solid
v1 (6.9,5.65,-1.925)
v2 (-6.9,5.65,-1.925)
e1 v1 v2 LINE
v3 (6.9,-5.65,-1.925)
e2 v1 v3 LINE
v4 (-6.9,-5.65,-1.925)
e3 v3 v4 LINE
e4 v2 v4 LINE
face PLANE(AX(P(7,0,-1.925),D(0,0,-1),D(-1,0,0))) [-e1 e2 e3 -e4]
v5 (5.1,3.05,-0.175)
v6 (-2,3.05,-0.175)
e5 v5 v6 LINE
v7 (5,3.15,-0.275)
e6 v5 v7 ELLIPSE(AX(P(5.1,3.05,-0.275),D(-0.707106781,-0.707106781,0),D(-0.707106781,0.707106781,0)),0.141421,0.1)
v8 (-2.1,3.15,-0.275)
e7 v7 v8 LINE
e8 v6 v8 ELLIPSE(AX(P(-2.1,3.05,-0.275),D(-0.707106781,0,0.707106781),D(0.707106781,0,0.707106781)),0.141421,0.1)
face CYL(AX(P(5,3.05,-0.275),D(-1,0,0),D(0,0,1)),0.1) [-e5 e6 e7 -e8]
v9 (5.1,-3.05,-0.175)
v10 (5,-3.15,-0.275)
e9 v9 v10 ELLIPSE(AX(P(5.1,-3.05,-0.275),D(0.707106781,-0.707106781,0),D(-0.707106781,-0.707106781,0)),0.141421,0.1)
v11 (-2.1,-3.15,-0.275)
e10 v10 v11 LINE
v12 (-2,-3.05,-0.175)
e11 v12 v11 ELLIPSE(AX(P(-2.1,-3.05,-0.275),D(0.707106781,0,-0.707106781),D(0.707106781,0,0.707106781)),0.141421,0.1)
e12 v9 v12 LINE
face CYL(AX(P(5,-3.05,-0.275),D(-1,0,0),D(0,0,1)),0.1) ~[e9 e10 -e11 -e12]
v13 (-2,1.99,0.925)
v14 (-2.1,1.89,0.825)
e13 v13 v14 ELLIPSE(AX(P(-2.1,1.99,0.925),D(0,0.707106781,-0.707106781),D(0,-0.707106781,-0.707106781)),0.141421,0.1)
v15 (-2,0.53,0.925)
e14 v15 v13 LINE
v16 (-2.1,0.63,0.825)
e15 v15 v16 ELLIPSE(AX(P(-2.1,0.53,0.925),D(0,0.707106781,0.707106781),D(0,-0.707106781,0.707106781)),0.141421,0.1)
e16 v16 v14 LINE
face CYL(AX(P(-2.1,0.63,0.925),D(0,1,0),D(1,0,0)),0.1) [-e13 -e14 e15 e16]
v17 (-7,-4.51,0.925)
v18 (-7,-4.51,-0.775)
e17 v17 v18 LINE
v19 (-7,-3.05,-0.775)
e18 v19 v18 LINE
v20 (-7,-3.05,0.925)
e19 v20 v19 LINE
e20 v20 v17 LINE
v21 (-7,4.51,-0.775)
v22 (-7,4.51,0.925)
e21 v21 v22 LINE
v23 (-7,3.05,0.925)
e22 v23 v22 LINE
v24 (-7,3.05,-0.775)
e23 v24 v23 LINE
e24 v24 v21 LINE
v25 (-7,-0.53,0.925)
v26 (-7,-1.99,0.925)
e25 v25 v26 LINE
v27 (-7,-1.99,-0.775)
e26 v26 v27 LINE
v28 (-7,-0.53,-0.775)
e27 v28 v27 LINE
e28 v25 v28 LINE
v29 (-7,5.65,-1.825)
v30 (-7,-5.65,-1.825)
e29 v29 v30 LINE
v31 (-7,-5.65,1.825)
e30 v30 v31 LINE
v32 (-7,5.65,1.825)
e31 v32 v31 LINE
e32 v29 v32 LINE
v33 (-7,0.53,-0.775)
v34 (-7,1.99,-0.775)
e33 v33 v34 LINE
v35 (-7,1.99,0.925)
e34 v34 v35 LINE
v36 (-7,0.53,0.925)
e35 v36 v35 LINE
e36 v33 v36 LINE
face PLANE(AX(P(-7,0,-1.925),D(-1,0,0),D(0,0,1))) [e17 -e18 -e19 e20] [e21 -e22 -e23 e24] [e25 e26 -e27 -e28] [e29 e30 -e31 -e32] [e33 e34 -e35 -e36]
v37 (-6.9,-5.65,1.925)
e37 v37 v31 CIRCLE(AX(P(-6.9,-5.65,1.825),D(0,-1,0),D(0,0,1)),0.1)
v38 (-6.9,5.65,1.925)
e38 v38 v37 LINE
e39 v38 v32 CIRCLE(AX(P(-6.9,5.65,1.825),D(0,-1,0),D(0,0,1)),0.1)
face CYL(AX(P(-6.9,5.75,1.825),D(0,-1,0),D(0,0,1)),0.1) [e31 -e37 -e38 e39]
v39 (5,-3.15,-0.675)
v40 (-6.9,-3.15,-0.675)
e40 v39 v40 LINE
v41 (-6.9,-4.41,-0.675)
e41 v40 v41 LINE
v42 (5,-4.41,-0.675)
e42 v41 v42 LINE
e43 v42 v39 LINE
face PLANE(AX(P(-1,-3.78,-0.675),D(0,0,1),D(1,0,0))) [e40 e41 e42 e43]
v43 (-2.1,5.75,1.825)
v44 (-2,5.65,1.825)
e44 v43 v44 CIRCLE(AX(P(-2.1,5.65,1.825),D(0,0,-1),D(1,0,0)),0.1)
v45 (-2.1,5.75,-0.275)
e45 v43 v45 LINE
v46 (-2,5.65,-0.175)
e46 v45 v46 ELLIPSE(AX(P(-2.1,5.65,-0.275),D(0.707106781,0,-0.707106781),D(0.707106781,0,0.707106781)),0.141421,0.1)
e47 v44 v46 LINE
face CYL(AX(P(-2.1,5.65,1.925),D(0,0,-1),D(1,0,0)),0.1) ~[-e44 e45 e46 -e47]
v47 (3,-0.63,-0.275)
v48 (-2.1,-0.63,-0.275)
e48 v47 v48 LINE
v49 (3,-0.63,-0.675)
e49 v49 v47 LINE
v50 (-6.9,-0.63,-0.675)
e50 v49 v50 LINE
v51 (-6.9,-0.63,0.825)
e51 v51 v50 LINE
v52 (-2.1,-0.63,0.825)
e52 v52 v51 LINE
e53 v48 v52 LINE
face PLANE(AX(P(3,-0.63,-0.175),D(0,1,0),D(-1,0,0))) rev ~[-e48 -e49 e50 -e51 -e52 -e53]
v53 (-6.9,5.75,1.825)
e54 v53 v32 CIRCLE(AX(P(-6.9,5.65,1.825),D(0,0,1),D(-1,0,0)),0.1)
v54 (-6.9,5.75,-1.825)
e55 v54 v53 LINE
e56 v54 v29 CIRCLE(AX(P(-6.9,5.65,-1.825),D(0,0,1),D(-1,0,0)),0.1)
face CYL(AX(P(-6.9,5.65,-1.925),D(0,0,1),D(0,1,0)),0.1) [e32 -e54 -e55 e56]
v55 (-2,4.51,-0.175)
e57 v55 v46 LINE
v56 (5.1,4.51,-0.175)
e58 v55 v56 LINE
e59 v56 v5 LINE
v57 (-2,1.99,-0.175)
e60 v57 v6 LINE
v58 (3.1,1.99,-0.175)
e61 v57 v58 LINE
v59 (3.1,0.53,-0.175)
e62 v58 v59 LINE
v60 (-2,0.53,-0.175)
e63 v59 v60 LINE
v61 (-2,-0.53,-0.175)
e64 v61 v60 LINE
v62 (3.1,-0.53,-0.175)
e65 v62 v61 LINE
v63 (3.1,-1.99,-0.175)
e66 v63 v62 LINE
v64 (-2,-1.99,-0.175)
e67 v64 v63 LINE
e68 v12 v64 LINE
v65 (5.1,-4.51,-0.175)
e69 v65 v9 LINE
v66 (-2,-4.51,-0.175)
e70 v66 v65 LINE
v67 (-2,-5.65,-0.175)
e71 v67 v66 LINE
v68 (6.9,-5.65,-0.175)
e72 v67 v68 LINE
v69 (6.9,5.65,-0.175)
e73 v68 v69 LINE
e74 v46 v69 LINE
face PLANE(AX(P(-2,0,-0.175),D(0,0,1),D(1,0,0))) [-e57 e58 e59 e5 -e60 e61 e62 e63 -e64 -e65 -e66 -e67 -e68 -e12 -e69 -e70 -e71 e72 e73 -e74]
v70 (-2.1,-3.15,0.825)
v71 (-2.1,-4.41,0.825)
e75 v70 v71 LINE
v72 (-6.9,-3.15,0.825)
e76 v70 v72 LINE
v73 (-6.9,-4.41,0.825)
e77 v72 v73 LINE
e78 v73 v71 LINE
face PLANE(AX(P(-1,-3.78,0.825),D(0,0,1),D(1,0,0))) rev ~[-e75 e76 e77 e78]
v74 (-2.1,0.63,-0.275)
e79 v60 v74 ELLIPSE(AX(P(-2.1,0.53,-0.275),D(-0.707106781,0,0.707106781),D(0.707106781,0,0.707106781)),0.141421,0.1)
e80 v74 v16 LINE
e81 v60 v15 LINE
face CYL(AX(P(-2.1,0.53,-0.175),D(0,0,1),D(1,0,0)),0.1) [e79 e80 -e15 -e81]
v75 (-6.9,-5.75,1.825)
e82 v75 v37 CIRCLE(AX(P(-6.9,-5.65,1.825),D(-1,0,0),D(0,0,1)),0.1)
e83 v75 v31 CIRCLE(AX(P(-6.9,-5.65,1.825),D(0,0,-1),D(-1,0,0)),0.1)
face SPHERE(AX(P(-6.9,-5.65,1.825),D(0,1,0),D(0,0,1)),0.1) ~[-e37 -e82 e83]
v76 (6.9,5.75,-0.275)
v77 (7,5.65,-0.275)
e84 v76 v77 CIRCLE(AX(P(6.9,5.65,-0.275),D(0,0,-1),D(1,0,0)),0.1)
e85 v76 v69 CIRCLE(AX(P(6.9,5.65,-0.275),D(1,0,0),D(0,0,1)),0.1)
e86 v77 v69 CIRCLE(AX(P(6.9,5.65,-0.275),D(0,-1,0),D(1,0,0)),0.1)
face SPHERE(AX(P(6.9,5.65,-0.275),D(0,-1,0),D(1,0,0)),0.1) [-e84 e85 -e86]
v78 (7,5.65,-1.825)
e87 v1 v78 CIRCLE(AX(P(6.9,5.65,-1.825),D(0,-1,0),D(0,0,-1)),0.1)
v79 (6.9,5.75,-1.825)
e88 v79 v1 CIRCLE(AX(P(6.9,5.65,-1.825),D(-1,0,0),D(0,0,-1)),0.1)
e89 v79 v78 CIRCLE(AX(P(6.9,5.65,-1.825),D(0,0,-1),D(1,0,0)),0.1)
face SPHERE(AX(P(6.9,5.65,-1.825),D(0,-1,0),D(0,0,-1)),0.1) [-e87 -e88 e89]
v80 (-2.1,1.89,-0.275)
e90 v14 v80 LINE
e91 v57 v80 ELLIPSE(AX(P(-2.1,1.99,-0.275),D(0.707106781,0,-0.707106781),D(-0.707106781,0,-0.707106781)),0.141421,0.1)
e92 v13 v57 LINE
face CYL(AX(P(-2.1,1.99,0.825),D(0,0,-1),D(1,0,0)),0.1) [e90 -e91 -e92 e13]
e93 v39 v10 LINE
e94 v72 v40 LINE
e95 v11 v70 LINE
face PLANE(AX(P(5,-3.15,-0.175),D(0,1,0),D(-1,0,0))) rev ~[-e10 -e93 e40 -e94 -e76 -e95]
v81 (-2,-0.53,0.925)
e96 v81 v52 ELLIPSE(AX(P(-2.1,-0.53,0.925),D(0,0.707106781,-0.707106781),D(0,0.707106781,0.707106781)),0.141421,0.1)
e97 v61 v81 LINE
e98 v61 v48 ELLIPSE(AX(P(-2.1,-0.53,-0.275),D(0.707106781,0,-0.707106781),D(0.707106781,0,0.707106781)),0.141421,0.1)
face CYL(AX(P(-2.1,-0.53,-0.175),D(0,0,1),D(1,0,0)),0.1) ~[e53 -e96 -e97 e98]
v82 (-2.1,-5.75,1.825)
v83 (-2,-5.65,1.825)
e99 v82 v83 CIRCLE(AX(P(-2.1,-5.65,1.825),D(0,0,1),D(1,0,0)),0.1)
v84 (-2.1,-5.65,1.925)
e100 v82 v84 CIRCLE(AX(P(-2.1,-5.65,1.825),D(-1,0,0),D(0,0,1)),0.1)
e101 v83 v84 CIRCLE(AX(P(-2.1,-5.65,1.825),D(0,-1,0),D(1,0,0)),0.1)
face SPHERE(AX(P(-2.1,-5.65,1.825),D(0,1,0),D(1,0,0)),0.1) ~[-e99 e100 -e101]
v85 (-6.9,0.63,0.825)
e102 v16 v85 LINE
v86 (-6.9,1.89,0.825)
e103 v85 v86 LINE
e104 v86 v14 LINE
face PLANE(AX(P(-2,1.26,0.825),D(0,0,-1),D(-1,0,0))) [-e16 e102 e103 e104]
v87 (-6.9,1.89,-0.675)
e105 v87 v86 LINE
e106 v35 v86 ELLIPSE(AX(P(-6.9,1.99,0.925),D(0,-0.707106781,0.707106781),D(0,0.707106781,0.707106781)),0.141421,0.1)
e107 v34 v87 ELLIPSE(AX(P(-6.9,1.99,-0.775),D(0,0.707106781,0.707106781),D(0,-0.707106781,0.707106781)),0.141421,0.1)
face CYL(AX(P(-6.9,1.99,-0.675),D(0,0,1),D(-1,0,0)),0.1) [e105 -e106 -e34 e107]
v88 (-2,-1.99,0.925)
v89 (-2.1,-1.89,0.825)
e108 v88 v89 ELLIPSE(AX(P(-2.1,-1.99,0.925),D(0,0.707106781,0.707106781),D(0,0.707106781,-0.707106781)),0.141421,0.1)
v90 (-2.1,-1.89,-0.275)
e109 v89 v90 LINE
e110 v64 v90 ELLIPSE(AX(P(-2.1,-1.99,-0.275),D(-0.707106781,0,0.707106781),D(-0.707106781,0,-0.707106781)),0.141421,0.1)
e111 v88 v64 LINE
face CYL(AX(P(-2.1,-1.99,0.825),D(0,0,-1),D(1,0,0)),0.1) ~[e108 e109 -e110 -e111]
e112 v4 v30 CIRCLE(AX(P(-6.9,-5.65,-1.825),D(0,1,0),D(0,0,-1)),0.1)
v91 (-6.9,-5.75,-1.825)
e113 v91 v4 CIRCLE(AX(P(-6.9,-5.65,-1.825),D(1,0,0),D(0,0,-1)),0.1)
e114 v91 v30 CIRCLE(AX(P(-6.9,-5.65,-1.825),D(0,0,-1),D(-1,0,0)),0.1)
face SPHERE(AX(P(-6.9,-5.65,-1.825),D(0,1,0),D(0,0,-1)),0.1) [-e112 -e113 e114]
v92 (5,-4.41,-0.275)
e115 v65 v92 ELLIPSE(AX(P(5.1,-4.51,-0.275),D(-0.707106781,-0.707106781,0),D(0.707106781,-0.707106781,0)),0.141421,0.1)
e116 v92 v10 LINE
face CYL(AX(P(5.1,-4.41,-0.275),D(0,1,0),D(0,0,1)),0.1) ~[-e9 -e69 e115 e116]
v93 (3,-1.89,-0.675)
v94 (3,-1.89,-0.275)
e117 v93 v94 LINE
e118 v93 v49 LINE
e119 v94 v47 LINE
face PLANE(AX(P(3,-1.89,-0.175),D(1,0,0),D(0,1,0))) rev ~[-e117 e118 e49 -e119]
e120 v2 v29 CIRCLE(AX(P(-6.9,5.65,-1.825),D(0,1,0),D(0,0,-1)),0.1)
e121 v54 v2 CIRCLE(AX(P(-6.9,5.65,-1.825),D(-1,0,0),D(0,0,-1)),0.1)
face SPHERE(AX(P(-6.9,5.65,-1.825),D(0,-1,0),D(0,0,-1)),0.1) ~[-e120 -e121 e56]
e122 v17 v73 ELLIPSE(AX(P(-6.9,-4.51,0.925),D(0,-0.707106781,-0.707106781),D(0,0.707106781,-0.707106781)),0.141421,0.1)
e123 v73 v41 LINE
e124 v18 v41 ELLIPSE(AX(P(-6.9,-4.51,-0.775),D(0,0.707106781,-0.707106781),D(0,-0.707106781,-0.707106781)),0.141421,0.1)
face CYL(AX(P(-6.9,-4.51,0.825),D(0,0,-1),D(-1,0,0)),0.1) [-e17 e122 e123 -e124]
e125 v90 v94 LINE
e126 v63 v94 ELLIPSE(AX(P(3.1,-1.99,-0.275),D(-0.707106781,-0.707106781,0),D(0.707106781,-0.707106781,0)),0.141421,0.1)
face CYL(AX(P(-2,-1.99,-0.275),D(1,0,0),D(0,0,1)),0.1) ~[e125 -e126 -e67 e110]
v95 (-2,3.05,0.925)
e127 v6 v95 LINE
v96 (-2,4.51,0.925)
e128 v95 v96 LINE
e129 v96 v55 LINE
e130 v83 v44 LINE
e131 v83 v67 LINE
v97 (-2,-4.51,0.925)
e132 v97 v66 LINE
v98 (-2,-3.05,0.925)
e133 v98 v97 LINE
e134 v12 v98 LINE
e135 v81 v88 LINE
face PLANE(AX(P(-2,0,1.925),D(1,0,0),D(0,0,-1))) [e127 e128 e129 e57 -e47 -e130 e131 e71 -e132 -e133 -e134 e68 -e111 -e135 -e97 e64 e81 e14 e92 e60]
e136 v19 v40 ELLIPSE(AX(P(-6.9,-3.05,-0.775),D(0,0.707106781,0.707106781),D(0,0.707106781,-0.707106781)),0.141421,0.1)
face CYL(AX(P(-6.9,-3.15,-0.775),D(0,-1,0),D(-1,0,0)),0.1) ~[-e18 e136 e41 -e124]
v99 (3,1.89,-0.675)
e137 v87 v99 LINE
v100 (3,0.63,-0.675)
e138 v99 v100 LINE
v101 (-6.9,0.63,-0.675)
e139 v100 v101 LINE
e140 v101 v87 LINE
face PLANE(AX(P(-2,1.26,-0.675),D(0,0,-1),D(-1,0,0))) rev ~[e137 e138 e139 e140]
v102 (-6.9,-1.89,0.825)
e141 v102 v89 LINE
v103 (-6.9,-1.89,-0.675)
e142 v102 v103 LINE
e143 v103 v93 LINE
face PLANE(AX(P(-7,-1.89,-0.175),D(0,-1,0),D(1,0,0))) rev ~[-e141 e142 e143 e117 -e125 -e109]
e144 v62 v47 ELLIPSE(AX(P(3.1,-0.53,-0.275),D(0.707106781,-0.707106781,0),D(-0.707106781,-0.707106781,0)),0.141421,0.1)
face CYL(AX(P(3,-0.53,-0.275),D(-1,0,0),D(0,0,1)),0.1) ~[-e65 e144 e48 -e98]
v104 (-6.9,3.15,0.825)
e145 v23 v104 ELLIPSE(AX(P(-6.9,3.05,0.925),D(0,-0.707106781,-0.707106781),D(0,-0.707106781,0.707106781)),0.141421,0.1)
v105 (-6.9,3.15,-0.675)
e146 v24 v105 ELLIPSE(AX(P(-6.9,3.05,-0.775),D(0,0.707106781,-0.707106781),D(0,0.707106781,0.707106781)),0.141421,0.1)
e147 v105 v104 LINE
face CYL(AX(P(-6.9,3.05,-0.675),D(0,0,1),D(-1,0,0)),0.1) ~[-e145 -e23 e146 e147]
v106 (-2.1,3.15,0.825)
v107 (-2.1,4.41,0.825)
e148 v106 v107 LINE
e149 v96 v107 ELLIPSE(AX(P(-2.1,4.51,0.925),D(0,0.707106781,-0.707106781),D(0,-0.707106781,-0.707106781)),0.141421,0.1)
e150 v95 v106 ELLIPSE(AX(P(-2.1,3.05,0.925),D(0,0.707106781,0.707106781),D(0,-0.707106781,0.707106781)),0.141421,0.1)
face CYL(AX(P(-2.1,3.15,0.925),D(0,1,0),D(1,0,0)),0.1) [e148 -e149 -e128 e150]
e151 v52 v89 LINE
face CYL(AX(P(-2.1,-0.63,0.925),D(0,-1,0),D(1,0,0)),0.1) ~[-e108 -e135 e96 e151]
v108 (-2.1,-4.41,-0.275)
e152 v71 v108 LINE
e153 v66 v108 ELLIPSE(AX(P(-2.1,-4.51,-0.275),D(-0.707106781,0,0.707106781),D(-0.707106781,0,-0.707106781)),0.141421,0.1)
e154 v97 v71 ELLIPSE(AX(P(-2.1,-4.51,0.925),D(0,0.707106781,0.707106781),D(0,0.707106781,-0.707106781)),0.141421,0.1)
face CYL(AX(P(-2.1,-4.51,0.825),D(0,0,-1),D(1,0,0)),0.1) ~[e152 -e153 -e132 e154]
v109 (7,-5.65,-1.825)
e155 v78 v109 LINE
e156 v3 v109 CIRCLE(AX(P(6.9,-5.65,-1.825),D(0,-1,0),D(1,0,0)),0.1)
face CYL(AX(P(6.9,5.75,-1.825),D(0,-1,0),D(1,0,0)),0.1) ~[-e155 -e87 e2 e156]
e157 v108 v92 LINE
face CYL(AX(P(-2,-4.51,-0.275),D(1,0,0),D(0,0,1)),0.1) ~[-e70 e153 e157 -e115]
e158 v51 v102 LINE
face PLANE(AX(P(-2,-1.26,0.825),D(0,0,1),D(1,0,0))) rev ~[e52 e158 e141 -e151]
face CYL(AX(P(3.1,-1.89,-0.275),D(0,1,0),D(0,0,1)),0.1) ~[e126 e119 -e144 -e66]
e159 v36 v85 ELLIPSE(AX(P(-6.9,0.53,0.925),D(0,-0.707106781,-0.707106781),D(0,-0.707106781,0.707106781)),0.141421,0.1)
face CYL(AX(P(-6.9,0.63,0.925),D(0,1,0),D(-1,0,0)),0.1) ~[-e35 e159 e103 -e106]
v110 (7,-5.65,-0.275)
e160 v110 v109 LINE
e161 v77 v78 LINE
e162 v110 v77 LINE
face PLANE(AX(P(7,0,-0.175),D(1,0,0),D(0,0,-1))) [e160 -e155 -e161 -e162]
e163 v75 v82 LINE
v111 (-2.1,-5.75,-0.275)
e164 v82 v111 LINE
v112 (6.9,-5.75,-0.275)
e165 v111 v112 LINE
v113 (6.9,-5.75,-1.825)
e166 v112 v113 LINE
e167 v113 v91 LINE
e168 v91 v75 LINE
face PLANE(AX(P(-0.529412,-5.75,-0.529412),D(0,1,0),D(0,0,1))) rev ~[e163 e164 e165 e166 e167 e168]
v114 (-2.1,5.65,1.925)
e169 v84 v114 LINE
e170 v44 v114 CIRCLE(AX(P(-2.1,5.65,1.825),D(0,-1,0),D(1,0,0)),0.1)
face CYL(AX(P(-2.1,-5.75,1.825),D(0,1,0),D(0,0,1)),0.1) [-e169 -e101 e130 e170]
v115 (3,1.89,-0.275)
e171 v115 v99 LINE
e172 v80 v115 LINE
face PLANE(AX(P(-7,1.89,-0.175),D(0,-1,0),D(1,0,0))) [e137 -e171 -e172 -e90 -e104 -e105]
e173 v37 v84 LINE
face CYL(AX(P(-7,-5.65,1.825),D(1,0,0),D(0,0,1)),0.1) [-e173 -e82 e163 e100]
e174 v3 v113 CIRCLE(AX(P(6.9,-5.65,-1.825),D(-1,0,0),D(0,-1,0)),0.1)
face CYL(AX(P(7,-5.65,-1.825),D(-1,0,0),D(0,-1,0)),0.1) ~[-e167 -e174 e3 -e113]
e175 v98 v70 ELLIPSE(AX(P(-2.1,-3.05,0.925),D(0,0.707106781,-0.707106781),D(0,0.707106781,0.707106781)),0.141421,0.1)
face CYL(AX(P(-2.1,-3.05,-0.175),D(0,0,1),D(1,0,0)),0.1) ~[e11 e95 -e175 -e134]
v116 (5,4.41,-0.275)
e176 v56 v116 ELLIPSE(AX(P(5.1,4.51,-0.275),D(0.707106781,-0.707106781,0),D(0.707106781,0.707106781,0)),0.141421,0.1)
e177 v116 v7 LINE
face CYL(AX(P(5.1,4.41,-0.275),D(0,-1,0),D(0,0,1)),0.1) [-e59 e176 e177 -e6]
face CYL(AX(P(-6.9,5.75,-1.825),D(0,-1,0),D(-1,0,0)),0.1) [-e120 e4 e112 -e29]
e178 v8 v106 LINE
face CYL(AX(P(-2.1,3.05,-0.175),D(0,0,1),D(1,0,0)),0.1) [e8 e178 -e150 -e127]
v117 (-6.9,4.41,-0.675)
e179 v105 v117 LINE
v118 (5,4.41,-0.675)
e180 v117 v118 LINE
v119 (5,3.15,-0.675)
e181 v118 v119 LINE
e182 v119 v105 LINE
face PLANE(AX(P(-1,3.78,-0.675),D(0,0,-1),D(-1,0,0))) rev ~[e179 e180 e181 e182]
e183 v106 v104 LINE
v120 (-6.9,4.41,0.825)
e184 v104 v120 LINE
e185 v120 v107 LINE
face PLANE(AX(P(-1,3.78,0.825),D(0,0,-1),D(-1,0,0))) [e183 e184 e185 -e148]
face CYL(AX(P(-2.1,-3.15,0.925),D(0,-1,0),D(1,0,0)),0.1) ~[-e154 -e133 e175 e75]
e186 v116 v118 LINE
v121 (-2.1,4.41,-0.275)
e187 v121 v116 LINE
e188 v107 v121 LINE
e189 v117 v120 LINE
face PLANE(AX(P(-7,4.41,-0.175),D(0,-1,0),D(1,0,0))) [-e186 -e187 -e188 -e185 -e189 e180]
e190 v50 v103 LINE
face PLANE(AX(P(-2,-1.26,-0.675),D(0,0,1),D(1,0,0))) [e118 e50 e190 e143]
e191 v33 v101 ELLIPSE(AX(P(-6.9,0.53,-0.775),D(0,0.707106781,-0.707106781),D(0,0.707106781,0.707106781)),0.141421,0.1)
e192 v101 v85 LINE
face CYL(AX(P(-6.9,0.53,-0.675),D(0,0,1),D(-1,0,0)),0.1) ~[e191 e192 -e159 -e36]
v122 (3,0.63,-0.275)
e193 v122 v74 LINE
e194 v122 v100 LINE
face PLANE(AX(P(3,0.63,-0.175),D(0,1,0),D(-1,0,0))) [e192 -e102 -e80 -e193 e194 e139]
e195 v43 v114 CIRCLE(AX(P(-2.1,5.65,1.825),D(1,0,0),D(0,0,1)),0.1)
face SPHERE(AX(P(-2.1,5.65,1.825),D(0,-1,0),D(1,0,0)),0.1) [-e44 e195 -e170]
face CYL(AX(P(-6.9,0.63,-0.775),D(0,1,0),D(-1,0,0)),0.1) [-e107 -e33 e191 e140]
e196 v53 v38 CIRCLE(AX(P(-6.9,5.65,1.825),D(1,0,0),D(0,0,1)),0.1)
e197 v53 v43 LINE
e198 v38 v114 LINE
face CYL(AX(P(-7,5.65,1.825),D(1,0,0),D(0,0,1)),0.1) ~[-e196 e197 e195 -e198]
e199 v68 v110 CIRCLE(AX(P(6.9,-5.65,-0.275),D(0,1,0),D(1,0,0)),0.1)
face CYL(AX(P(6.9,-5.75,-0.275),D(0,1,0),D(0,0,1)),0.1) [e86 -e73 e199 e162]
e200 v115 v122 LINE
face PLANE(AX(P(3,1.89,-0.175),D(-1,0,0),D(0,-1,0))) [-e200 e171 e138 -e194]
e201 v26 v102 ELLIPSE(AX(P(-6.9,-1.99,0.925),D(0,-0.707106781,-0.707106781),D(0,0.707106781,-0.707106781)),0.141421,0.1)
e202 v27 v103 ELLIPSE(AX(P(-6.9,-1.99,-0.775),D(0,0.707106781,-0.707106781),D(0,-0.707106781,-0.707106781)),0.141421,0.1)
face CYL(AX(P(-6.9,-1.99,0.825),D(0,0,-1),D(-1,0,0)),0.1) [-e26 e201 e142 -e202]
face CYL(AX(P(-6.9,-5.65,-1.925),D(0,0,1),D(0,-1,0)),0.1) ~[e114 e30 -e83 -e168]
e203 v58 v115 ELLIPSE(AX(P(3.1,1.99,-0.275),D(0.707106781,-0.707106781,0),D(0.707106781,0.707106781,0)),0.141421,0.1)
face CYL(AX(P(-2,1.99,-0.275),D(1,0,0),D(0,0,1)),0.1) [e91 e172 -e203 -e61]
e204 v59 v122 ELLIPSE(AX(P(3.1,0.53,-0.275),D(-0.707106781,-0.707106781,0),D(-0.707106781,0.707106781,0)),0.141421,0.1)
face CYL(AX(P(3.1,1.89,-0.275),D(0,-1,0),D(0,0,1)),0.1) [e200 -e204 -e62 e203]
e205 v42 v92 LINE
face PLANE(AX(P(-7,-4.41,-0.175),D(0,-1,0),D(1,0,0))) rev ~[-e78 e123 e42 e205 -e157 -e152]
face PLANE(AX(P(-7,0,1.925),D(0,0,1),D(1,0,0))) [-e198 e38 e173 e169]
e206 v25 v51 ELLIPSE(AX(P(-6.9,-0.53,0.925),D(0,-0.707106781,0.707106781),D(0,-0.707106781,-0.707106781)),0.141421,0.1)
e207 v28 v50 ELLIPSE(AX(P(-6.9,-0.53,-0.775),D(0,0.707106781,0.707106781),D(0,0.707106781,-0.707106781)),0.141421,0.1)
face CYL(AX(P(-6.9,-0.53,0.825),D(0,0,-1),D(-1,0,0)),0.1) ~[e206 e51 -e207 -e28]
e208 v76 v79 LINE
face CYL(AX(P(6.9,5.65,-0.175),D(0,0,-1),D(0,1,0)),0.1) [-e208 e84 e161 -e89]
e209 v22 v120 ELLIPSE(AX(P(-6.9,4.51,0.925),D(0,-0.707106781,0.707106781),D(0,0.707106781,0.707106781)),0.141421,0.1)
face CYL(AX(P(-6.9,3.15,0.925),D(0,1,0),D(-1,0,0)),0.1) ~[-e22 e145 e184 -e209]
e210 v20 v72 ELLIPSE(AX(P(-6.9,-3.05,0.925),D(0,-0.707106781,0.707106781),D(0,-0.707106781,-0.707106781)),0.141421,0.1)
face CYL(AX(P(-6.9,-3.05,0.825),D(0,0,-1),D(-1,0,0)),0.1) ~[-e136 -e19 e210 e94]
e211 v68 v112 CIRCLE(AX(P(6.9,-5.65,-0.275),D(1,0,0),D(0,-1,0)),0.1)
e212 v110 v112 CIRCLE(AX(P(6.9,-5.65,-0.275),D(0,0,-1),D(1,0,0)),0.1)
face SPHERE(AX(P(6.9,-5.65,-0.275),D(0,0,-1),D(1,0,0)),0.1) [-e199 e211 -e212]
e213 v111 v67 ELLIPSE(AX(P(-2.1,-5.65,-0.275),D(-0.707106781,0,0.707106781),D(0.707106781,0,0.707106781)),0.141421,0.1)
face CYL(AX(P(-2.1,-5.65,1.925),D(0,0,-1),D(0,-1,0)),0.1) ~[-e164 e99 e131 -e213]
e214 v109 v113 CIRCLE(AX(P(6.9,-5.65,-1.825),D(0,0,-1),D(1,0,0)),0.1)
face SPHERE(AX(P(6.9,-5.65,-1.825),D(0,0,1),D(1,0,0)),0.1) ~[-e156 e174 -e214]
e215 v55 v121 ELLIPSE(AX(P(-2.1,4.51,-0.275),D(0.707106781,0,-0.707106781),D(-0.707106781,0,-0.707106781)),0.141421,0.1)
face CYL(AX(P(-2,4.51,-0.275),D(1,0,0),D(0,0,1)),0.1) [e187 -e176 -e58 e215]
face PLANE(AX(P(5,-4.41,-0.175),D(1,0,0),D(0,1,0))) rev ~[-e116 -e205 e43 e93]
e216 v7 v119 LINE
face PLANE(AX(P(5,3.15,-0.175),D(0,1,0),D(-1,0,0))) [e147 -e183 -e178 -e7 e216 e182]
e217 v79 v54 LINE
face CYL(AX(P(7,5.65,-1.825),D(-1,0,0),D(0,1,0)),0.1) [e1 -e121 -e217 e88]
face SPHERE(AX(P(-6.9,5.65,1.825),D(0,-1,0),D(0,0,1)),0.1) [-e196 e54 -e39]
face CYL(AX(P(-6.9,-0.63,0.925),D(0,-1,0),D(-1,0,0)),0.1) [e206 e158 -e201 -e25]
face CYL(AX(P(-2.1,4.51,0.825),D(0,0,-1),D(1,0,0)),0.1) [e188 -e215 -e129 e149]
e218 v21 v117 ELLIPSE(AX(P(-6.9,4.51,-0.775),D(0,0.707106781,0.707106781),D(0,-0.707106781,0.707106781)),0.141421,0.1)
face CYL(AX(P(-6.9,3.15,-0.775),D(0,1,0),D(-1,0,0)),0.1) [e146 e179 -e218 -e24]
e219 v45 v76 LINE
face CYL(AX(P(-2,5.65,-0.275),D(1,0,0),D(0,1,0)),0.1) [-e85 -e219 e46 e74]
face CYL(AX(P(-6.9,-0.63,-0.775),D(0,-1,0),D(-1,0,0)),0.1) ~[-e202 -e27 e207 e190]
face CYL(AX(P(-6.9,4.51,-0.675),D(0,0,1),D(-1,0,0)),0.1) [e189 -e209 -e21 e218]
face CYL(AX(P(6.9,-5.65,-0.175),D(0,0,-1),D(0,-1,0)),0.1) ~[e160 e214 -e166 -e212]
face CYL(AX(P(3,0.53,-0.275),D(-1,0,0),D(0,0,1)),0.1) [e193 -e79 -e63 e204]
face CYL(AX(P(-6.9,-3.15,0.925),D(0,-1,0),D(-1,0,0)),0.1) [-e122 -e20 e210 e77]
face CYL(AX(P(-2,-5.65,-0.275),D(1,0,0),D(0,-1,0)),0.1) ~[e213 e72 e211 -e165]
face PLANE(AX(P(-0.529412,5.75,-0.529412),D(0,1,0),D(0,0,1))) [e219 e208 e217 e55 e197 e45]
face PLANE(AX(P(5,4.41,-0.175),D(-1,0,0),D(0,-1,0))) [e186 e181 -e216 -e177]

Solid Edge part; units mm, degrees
sketch "Sketch1" plane through (0, 0, 0) normal (0, -1, 0) x (1, 0, 0)
  line L0 (-7, 1.925) -> (-2, 1.925)
  line L1 (-2, 1.925) -> (-2, -0.175)
  line L2 (-2, -0.175) -> (7, -0.175)
  line L3 (7, -0.175) -> (7, -1.925)
  line L4 (7, -1.925) -> (-7, -1.925)
  line L5 (-7, -1.925) -> (-7, 1.925)
  dimension "D1" = 9
  dimension "D2" = 5
  dimension "D3" = 3.85
  dimension "D4" = 1.75
extrude "Protrusion1" add sketch "Sketch1" along normal mid plane 11.5
sketch "Sketch2" plane through (2.5, 0, -0.175) normal (0, 0, 1) x (1, 0, 0)
  line L0 (-9.5, 4.41) -> (2.5, 4.41)
  line L1 (2.5, 4.41) -> (2.5, 3.15)
  line L2 (2.5, 3.15) -> (-9.5, 3.15)
  line L3 (-9.5, 3.15) -> (-9.5, 4.41)
  line L4 (-9.5, 1.89) -> (0.5, 1.89)
  line L5 (0.5, 1.89) -> (0.5, 0.63)
  line L6 (0.5, 0.63) -> (-9.5, 0.63)
  line L7 (-9.5, 0.63) -> (-9.5, 1.89)
  line L8 (-9.5, -4.41) -> (2.5, -4.41)
  line L9 (2.5, -4.41) -> (2.5, -3.15)
  line L10 (2.5, -3.15) -> (-9.5, -3.15)
  line L11 (-9.5, -3.15) -> (-9.5, -4.41)
  line L12 (-9.5, -1.89) -> (0.5, -1.89)
  line L13 (0.5, -1.89) -> (0.5, -0.63)
  line L14 (0.5, -0.63) -> (-9.5, -0.63)
  line L15 (-9.5, -0.63) -> (-9.5, -1.89)
  dimension "D1" = 2
  dimension "D2" = 4
  dimension "D3" = 1.26
  dimension "D4" = 1.26
  dimension "D5" = 0.63
  dimension "D6" = 1.26
extrude "ExtrudedCutout_1" cut sketch "Sketch2" against normal blind 0.5 and the other way blind 1
fillet "Round_2" radius 0.1 58 edges at (7, -5.75, -1.05) (-2, -1.89, 0.325) (-2, -0.63, 0.325) (-2, -1.26, 0.825) (0.5, -1.89, -0.175) (-2, -4.41, 0.325) (-2, -3.15, 0.325) (-2, -3.78, 0.825) (1.5, -4.41, -0.175) (-2, 1.89, 0.325) (-2, 0.63, 0.325) (-2, 1.26, 0.825) (0.5, 1.89, -0.175) (-2, 4.41, 0.325) (-2, 3.15, 0.325) (-2, 3.78, 0.825) (1.5, 4.41, -0.175) (-7, 0, 1.925) (-2, 0, 1.925) (7, 0, -0.175) (7, 0, -1.925) (-7, 0, -1.925) (0, -5.75, -1.925) (7, -5.75, -1.05) (2.5, -5.75, -0.175) (-2, -5.75, 0.875) (-4.5, -5.75, 1.925) (-7, -5.75, 0) (0, 5.75, -1.925) (7, 5.75, -1.05) (2.5, 5.75, -0.175) (-2, 5.75, 0.875) (-4.5, 5.75, 1.925) (-7, 5.75, 0) (-7, 4.41, 0.075) (-7, 3.15, 0.075) (-7, 3.78, -0.675) (1.5, 3.15, -0.175) (5, 3.78, -0.175) (-7, 3.78, 0.825) (-7, 1.89, 0.075) (-7, 0.63, 0.075) (-7, 1.26, -0.675) (0.5, 0.63, -0.175) (3, 1.26, -0.175) (-7, 1.26, 0.825) (-7, -4.41, 0.075) (-7, -3.15, 0.075) (-7, -3.78, -0.675) (1.5, -3.15, -0.175) (5, -3.78, -0.175) (-7, -3.78, 0.825) (-7, -1.89, 0.075) (-7, -0.63, 0.075) (-7, -1.26, -0.675) (0.5, -0.63, -0.175) (3, -1.26, -0.175) (-7, -1.26, 0.825)
properties material "Nylon, general purpose"
